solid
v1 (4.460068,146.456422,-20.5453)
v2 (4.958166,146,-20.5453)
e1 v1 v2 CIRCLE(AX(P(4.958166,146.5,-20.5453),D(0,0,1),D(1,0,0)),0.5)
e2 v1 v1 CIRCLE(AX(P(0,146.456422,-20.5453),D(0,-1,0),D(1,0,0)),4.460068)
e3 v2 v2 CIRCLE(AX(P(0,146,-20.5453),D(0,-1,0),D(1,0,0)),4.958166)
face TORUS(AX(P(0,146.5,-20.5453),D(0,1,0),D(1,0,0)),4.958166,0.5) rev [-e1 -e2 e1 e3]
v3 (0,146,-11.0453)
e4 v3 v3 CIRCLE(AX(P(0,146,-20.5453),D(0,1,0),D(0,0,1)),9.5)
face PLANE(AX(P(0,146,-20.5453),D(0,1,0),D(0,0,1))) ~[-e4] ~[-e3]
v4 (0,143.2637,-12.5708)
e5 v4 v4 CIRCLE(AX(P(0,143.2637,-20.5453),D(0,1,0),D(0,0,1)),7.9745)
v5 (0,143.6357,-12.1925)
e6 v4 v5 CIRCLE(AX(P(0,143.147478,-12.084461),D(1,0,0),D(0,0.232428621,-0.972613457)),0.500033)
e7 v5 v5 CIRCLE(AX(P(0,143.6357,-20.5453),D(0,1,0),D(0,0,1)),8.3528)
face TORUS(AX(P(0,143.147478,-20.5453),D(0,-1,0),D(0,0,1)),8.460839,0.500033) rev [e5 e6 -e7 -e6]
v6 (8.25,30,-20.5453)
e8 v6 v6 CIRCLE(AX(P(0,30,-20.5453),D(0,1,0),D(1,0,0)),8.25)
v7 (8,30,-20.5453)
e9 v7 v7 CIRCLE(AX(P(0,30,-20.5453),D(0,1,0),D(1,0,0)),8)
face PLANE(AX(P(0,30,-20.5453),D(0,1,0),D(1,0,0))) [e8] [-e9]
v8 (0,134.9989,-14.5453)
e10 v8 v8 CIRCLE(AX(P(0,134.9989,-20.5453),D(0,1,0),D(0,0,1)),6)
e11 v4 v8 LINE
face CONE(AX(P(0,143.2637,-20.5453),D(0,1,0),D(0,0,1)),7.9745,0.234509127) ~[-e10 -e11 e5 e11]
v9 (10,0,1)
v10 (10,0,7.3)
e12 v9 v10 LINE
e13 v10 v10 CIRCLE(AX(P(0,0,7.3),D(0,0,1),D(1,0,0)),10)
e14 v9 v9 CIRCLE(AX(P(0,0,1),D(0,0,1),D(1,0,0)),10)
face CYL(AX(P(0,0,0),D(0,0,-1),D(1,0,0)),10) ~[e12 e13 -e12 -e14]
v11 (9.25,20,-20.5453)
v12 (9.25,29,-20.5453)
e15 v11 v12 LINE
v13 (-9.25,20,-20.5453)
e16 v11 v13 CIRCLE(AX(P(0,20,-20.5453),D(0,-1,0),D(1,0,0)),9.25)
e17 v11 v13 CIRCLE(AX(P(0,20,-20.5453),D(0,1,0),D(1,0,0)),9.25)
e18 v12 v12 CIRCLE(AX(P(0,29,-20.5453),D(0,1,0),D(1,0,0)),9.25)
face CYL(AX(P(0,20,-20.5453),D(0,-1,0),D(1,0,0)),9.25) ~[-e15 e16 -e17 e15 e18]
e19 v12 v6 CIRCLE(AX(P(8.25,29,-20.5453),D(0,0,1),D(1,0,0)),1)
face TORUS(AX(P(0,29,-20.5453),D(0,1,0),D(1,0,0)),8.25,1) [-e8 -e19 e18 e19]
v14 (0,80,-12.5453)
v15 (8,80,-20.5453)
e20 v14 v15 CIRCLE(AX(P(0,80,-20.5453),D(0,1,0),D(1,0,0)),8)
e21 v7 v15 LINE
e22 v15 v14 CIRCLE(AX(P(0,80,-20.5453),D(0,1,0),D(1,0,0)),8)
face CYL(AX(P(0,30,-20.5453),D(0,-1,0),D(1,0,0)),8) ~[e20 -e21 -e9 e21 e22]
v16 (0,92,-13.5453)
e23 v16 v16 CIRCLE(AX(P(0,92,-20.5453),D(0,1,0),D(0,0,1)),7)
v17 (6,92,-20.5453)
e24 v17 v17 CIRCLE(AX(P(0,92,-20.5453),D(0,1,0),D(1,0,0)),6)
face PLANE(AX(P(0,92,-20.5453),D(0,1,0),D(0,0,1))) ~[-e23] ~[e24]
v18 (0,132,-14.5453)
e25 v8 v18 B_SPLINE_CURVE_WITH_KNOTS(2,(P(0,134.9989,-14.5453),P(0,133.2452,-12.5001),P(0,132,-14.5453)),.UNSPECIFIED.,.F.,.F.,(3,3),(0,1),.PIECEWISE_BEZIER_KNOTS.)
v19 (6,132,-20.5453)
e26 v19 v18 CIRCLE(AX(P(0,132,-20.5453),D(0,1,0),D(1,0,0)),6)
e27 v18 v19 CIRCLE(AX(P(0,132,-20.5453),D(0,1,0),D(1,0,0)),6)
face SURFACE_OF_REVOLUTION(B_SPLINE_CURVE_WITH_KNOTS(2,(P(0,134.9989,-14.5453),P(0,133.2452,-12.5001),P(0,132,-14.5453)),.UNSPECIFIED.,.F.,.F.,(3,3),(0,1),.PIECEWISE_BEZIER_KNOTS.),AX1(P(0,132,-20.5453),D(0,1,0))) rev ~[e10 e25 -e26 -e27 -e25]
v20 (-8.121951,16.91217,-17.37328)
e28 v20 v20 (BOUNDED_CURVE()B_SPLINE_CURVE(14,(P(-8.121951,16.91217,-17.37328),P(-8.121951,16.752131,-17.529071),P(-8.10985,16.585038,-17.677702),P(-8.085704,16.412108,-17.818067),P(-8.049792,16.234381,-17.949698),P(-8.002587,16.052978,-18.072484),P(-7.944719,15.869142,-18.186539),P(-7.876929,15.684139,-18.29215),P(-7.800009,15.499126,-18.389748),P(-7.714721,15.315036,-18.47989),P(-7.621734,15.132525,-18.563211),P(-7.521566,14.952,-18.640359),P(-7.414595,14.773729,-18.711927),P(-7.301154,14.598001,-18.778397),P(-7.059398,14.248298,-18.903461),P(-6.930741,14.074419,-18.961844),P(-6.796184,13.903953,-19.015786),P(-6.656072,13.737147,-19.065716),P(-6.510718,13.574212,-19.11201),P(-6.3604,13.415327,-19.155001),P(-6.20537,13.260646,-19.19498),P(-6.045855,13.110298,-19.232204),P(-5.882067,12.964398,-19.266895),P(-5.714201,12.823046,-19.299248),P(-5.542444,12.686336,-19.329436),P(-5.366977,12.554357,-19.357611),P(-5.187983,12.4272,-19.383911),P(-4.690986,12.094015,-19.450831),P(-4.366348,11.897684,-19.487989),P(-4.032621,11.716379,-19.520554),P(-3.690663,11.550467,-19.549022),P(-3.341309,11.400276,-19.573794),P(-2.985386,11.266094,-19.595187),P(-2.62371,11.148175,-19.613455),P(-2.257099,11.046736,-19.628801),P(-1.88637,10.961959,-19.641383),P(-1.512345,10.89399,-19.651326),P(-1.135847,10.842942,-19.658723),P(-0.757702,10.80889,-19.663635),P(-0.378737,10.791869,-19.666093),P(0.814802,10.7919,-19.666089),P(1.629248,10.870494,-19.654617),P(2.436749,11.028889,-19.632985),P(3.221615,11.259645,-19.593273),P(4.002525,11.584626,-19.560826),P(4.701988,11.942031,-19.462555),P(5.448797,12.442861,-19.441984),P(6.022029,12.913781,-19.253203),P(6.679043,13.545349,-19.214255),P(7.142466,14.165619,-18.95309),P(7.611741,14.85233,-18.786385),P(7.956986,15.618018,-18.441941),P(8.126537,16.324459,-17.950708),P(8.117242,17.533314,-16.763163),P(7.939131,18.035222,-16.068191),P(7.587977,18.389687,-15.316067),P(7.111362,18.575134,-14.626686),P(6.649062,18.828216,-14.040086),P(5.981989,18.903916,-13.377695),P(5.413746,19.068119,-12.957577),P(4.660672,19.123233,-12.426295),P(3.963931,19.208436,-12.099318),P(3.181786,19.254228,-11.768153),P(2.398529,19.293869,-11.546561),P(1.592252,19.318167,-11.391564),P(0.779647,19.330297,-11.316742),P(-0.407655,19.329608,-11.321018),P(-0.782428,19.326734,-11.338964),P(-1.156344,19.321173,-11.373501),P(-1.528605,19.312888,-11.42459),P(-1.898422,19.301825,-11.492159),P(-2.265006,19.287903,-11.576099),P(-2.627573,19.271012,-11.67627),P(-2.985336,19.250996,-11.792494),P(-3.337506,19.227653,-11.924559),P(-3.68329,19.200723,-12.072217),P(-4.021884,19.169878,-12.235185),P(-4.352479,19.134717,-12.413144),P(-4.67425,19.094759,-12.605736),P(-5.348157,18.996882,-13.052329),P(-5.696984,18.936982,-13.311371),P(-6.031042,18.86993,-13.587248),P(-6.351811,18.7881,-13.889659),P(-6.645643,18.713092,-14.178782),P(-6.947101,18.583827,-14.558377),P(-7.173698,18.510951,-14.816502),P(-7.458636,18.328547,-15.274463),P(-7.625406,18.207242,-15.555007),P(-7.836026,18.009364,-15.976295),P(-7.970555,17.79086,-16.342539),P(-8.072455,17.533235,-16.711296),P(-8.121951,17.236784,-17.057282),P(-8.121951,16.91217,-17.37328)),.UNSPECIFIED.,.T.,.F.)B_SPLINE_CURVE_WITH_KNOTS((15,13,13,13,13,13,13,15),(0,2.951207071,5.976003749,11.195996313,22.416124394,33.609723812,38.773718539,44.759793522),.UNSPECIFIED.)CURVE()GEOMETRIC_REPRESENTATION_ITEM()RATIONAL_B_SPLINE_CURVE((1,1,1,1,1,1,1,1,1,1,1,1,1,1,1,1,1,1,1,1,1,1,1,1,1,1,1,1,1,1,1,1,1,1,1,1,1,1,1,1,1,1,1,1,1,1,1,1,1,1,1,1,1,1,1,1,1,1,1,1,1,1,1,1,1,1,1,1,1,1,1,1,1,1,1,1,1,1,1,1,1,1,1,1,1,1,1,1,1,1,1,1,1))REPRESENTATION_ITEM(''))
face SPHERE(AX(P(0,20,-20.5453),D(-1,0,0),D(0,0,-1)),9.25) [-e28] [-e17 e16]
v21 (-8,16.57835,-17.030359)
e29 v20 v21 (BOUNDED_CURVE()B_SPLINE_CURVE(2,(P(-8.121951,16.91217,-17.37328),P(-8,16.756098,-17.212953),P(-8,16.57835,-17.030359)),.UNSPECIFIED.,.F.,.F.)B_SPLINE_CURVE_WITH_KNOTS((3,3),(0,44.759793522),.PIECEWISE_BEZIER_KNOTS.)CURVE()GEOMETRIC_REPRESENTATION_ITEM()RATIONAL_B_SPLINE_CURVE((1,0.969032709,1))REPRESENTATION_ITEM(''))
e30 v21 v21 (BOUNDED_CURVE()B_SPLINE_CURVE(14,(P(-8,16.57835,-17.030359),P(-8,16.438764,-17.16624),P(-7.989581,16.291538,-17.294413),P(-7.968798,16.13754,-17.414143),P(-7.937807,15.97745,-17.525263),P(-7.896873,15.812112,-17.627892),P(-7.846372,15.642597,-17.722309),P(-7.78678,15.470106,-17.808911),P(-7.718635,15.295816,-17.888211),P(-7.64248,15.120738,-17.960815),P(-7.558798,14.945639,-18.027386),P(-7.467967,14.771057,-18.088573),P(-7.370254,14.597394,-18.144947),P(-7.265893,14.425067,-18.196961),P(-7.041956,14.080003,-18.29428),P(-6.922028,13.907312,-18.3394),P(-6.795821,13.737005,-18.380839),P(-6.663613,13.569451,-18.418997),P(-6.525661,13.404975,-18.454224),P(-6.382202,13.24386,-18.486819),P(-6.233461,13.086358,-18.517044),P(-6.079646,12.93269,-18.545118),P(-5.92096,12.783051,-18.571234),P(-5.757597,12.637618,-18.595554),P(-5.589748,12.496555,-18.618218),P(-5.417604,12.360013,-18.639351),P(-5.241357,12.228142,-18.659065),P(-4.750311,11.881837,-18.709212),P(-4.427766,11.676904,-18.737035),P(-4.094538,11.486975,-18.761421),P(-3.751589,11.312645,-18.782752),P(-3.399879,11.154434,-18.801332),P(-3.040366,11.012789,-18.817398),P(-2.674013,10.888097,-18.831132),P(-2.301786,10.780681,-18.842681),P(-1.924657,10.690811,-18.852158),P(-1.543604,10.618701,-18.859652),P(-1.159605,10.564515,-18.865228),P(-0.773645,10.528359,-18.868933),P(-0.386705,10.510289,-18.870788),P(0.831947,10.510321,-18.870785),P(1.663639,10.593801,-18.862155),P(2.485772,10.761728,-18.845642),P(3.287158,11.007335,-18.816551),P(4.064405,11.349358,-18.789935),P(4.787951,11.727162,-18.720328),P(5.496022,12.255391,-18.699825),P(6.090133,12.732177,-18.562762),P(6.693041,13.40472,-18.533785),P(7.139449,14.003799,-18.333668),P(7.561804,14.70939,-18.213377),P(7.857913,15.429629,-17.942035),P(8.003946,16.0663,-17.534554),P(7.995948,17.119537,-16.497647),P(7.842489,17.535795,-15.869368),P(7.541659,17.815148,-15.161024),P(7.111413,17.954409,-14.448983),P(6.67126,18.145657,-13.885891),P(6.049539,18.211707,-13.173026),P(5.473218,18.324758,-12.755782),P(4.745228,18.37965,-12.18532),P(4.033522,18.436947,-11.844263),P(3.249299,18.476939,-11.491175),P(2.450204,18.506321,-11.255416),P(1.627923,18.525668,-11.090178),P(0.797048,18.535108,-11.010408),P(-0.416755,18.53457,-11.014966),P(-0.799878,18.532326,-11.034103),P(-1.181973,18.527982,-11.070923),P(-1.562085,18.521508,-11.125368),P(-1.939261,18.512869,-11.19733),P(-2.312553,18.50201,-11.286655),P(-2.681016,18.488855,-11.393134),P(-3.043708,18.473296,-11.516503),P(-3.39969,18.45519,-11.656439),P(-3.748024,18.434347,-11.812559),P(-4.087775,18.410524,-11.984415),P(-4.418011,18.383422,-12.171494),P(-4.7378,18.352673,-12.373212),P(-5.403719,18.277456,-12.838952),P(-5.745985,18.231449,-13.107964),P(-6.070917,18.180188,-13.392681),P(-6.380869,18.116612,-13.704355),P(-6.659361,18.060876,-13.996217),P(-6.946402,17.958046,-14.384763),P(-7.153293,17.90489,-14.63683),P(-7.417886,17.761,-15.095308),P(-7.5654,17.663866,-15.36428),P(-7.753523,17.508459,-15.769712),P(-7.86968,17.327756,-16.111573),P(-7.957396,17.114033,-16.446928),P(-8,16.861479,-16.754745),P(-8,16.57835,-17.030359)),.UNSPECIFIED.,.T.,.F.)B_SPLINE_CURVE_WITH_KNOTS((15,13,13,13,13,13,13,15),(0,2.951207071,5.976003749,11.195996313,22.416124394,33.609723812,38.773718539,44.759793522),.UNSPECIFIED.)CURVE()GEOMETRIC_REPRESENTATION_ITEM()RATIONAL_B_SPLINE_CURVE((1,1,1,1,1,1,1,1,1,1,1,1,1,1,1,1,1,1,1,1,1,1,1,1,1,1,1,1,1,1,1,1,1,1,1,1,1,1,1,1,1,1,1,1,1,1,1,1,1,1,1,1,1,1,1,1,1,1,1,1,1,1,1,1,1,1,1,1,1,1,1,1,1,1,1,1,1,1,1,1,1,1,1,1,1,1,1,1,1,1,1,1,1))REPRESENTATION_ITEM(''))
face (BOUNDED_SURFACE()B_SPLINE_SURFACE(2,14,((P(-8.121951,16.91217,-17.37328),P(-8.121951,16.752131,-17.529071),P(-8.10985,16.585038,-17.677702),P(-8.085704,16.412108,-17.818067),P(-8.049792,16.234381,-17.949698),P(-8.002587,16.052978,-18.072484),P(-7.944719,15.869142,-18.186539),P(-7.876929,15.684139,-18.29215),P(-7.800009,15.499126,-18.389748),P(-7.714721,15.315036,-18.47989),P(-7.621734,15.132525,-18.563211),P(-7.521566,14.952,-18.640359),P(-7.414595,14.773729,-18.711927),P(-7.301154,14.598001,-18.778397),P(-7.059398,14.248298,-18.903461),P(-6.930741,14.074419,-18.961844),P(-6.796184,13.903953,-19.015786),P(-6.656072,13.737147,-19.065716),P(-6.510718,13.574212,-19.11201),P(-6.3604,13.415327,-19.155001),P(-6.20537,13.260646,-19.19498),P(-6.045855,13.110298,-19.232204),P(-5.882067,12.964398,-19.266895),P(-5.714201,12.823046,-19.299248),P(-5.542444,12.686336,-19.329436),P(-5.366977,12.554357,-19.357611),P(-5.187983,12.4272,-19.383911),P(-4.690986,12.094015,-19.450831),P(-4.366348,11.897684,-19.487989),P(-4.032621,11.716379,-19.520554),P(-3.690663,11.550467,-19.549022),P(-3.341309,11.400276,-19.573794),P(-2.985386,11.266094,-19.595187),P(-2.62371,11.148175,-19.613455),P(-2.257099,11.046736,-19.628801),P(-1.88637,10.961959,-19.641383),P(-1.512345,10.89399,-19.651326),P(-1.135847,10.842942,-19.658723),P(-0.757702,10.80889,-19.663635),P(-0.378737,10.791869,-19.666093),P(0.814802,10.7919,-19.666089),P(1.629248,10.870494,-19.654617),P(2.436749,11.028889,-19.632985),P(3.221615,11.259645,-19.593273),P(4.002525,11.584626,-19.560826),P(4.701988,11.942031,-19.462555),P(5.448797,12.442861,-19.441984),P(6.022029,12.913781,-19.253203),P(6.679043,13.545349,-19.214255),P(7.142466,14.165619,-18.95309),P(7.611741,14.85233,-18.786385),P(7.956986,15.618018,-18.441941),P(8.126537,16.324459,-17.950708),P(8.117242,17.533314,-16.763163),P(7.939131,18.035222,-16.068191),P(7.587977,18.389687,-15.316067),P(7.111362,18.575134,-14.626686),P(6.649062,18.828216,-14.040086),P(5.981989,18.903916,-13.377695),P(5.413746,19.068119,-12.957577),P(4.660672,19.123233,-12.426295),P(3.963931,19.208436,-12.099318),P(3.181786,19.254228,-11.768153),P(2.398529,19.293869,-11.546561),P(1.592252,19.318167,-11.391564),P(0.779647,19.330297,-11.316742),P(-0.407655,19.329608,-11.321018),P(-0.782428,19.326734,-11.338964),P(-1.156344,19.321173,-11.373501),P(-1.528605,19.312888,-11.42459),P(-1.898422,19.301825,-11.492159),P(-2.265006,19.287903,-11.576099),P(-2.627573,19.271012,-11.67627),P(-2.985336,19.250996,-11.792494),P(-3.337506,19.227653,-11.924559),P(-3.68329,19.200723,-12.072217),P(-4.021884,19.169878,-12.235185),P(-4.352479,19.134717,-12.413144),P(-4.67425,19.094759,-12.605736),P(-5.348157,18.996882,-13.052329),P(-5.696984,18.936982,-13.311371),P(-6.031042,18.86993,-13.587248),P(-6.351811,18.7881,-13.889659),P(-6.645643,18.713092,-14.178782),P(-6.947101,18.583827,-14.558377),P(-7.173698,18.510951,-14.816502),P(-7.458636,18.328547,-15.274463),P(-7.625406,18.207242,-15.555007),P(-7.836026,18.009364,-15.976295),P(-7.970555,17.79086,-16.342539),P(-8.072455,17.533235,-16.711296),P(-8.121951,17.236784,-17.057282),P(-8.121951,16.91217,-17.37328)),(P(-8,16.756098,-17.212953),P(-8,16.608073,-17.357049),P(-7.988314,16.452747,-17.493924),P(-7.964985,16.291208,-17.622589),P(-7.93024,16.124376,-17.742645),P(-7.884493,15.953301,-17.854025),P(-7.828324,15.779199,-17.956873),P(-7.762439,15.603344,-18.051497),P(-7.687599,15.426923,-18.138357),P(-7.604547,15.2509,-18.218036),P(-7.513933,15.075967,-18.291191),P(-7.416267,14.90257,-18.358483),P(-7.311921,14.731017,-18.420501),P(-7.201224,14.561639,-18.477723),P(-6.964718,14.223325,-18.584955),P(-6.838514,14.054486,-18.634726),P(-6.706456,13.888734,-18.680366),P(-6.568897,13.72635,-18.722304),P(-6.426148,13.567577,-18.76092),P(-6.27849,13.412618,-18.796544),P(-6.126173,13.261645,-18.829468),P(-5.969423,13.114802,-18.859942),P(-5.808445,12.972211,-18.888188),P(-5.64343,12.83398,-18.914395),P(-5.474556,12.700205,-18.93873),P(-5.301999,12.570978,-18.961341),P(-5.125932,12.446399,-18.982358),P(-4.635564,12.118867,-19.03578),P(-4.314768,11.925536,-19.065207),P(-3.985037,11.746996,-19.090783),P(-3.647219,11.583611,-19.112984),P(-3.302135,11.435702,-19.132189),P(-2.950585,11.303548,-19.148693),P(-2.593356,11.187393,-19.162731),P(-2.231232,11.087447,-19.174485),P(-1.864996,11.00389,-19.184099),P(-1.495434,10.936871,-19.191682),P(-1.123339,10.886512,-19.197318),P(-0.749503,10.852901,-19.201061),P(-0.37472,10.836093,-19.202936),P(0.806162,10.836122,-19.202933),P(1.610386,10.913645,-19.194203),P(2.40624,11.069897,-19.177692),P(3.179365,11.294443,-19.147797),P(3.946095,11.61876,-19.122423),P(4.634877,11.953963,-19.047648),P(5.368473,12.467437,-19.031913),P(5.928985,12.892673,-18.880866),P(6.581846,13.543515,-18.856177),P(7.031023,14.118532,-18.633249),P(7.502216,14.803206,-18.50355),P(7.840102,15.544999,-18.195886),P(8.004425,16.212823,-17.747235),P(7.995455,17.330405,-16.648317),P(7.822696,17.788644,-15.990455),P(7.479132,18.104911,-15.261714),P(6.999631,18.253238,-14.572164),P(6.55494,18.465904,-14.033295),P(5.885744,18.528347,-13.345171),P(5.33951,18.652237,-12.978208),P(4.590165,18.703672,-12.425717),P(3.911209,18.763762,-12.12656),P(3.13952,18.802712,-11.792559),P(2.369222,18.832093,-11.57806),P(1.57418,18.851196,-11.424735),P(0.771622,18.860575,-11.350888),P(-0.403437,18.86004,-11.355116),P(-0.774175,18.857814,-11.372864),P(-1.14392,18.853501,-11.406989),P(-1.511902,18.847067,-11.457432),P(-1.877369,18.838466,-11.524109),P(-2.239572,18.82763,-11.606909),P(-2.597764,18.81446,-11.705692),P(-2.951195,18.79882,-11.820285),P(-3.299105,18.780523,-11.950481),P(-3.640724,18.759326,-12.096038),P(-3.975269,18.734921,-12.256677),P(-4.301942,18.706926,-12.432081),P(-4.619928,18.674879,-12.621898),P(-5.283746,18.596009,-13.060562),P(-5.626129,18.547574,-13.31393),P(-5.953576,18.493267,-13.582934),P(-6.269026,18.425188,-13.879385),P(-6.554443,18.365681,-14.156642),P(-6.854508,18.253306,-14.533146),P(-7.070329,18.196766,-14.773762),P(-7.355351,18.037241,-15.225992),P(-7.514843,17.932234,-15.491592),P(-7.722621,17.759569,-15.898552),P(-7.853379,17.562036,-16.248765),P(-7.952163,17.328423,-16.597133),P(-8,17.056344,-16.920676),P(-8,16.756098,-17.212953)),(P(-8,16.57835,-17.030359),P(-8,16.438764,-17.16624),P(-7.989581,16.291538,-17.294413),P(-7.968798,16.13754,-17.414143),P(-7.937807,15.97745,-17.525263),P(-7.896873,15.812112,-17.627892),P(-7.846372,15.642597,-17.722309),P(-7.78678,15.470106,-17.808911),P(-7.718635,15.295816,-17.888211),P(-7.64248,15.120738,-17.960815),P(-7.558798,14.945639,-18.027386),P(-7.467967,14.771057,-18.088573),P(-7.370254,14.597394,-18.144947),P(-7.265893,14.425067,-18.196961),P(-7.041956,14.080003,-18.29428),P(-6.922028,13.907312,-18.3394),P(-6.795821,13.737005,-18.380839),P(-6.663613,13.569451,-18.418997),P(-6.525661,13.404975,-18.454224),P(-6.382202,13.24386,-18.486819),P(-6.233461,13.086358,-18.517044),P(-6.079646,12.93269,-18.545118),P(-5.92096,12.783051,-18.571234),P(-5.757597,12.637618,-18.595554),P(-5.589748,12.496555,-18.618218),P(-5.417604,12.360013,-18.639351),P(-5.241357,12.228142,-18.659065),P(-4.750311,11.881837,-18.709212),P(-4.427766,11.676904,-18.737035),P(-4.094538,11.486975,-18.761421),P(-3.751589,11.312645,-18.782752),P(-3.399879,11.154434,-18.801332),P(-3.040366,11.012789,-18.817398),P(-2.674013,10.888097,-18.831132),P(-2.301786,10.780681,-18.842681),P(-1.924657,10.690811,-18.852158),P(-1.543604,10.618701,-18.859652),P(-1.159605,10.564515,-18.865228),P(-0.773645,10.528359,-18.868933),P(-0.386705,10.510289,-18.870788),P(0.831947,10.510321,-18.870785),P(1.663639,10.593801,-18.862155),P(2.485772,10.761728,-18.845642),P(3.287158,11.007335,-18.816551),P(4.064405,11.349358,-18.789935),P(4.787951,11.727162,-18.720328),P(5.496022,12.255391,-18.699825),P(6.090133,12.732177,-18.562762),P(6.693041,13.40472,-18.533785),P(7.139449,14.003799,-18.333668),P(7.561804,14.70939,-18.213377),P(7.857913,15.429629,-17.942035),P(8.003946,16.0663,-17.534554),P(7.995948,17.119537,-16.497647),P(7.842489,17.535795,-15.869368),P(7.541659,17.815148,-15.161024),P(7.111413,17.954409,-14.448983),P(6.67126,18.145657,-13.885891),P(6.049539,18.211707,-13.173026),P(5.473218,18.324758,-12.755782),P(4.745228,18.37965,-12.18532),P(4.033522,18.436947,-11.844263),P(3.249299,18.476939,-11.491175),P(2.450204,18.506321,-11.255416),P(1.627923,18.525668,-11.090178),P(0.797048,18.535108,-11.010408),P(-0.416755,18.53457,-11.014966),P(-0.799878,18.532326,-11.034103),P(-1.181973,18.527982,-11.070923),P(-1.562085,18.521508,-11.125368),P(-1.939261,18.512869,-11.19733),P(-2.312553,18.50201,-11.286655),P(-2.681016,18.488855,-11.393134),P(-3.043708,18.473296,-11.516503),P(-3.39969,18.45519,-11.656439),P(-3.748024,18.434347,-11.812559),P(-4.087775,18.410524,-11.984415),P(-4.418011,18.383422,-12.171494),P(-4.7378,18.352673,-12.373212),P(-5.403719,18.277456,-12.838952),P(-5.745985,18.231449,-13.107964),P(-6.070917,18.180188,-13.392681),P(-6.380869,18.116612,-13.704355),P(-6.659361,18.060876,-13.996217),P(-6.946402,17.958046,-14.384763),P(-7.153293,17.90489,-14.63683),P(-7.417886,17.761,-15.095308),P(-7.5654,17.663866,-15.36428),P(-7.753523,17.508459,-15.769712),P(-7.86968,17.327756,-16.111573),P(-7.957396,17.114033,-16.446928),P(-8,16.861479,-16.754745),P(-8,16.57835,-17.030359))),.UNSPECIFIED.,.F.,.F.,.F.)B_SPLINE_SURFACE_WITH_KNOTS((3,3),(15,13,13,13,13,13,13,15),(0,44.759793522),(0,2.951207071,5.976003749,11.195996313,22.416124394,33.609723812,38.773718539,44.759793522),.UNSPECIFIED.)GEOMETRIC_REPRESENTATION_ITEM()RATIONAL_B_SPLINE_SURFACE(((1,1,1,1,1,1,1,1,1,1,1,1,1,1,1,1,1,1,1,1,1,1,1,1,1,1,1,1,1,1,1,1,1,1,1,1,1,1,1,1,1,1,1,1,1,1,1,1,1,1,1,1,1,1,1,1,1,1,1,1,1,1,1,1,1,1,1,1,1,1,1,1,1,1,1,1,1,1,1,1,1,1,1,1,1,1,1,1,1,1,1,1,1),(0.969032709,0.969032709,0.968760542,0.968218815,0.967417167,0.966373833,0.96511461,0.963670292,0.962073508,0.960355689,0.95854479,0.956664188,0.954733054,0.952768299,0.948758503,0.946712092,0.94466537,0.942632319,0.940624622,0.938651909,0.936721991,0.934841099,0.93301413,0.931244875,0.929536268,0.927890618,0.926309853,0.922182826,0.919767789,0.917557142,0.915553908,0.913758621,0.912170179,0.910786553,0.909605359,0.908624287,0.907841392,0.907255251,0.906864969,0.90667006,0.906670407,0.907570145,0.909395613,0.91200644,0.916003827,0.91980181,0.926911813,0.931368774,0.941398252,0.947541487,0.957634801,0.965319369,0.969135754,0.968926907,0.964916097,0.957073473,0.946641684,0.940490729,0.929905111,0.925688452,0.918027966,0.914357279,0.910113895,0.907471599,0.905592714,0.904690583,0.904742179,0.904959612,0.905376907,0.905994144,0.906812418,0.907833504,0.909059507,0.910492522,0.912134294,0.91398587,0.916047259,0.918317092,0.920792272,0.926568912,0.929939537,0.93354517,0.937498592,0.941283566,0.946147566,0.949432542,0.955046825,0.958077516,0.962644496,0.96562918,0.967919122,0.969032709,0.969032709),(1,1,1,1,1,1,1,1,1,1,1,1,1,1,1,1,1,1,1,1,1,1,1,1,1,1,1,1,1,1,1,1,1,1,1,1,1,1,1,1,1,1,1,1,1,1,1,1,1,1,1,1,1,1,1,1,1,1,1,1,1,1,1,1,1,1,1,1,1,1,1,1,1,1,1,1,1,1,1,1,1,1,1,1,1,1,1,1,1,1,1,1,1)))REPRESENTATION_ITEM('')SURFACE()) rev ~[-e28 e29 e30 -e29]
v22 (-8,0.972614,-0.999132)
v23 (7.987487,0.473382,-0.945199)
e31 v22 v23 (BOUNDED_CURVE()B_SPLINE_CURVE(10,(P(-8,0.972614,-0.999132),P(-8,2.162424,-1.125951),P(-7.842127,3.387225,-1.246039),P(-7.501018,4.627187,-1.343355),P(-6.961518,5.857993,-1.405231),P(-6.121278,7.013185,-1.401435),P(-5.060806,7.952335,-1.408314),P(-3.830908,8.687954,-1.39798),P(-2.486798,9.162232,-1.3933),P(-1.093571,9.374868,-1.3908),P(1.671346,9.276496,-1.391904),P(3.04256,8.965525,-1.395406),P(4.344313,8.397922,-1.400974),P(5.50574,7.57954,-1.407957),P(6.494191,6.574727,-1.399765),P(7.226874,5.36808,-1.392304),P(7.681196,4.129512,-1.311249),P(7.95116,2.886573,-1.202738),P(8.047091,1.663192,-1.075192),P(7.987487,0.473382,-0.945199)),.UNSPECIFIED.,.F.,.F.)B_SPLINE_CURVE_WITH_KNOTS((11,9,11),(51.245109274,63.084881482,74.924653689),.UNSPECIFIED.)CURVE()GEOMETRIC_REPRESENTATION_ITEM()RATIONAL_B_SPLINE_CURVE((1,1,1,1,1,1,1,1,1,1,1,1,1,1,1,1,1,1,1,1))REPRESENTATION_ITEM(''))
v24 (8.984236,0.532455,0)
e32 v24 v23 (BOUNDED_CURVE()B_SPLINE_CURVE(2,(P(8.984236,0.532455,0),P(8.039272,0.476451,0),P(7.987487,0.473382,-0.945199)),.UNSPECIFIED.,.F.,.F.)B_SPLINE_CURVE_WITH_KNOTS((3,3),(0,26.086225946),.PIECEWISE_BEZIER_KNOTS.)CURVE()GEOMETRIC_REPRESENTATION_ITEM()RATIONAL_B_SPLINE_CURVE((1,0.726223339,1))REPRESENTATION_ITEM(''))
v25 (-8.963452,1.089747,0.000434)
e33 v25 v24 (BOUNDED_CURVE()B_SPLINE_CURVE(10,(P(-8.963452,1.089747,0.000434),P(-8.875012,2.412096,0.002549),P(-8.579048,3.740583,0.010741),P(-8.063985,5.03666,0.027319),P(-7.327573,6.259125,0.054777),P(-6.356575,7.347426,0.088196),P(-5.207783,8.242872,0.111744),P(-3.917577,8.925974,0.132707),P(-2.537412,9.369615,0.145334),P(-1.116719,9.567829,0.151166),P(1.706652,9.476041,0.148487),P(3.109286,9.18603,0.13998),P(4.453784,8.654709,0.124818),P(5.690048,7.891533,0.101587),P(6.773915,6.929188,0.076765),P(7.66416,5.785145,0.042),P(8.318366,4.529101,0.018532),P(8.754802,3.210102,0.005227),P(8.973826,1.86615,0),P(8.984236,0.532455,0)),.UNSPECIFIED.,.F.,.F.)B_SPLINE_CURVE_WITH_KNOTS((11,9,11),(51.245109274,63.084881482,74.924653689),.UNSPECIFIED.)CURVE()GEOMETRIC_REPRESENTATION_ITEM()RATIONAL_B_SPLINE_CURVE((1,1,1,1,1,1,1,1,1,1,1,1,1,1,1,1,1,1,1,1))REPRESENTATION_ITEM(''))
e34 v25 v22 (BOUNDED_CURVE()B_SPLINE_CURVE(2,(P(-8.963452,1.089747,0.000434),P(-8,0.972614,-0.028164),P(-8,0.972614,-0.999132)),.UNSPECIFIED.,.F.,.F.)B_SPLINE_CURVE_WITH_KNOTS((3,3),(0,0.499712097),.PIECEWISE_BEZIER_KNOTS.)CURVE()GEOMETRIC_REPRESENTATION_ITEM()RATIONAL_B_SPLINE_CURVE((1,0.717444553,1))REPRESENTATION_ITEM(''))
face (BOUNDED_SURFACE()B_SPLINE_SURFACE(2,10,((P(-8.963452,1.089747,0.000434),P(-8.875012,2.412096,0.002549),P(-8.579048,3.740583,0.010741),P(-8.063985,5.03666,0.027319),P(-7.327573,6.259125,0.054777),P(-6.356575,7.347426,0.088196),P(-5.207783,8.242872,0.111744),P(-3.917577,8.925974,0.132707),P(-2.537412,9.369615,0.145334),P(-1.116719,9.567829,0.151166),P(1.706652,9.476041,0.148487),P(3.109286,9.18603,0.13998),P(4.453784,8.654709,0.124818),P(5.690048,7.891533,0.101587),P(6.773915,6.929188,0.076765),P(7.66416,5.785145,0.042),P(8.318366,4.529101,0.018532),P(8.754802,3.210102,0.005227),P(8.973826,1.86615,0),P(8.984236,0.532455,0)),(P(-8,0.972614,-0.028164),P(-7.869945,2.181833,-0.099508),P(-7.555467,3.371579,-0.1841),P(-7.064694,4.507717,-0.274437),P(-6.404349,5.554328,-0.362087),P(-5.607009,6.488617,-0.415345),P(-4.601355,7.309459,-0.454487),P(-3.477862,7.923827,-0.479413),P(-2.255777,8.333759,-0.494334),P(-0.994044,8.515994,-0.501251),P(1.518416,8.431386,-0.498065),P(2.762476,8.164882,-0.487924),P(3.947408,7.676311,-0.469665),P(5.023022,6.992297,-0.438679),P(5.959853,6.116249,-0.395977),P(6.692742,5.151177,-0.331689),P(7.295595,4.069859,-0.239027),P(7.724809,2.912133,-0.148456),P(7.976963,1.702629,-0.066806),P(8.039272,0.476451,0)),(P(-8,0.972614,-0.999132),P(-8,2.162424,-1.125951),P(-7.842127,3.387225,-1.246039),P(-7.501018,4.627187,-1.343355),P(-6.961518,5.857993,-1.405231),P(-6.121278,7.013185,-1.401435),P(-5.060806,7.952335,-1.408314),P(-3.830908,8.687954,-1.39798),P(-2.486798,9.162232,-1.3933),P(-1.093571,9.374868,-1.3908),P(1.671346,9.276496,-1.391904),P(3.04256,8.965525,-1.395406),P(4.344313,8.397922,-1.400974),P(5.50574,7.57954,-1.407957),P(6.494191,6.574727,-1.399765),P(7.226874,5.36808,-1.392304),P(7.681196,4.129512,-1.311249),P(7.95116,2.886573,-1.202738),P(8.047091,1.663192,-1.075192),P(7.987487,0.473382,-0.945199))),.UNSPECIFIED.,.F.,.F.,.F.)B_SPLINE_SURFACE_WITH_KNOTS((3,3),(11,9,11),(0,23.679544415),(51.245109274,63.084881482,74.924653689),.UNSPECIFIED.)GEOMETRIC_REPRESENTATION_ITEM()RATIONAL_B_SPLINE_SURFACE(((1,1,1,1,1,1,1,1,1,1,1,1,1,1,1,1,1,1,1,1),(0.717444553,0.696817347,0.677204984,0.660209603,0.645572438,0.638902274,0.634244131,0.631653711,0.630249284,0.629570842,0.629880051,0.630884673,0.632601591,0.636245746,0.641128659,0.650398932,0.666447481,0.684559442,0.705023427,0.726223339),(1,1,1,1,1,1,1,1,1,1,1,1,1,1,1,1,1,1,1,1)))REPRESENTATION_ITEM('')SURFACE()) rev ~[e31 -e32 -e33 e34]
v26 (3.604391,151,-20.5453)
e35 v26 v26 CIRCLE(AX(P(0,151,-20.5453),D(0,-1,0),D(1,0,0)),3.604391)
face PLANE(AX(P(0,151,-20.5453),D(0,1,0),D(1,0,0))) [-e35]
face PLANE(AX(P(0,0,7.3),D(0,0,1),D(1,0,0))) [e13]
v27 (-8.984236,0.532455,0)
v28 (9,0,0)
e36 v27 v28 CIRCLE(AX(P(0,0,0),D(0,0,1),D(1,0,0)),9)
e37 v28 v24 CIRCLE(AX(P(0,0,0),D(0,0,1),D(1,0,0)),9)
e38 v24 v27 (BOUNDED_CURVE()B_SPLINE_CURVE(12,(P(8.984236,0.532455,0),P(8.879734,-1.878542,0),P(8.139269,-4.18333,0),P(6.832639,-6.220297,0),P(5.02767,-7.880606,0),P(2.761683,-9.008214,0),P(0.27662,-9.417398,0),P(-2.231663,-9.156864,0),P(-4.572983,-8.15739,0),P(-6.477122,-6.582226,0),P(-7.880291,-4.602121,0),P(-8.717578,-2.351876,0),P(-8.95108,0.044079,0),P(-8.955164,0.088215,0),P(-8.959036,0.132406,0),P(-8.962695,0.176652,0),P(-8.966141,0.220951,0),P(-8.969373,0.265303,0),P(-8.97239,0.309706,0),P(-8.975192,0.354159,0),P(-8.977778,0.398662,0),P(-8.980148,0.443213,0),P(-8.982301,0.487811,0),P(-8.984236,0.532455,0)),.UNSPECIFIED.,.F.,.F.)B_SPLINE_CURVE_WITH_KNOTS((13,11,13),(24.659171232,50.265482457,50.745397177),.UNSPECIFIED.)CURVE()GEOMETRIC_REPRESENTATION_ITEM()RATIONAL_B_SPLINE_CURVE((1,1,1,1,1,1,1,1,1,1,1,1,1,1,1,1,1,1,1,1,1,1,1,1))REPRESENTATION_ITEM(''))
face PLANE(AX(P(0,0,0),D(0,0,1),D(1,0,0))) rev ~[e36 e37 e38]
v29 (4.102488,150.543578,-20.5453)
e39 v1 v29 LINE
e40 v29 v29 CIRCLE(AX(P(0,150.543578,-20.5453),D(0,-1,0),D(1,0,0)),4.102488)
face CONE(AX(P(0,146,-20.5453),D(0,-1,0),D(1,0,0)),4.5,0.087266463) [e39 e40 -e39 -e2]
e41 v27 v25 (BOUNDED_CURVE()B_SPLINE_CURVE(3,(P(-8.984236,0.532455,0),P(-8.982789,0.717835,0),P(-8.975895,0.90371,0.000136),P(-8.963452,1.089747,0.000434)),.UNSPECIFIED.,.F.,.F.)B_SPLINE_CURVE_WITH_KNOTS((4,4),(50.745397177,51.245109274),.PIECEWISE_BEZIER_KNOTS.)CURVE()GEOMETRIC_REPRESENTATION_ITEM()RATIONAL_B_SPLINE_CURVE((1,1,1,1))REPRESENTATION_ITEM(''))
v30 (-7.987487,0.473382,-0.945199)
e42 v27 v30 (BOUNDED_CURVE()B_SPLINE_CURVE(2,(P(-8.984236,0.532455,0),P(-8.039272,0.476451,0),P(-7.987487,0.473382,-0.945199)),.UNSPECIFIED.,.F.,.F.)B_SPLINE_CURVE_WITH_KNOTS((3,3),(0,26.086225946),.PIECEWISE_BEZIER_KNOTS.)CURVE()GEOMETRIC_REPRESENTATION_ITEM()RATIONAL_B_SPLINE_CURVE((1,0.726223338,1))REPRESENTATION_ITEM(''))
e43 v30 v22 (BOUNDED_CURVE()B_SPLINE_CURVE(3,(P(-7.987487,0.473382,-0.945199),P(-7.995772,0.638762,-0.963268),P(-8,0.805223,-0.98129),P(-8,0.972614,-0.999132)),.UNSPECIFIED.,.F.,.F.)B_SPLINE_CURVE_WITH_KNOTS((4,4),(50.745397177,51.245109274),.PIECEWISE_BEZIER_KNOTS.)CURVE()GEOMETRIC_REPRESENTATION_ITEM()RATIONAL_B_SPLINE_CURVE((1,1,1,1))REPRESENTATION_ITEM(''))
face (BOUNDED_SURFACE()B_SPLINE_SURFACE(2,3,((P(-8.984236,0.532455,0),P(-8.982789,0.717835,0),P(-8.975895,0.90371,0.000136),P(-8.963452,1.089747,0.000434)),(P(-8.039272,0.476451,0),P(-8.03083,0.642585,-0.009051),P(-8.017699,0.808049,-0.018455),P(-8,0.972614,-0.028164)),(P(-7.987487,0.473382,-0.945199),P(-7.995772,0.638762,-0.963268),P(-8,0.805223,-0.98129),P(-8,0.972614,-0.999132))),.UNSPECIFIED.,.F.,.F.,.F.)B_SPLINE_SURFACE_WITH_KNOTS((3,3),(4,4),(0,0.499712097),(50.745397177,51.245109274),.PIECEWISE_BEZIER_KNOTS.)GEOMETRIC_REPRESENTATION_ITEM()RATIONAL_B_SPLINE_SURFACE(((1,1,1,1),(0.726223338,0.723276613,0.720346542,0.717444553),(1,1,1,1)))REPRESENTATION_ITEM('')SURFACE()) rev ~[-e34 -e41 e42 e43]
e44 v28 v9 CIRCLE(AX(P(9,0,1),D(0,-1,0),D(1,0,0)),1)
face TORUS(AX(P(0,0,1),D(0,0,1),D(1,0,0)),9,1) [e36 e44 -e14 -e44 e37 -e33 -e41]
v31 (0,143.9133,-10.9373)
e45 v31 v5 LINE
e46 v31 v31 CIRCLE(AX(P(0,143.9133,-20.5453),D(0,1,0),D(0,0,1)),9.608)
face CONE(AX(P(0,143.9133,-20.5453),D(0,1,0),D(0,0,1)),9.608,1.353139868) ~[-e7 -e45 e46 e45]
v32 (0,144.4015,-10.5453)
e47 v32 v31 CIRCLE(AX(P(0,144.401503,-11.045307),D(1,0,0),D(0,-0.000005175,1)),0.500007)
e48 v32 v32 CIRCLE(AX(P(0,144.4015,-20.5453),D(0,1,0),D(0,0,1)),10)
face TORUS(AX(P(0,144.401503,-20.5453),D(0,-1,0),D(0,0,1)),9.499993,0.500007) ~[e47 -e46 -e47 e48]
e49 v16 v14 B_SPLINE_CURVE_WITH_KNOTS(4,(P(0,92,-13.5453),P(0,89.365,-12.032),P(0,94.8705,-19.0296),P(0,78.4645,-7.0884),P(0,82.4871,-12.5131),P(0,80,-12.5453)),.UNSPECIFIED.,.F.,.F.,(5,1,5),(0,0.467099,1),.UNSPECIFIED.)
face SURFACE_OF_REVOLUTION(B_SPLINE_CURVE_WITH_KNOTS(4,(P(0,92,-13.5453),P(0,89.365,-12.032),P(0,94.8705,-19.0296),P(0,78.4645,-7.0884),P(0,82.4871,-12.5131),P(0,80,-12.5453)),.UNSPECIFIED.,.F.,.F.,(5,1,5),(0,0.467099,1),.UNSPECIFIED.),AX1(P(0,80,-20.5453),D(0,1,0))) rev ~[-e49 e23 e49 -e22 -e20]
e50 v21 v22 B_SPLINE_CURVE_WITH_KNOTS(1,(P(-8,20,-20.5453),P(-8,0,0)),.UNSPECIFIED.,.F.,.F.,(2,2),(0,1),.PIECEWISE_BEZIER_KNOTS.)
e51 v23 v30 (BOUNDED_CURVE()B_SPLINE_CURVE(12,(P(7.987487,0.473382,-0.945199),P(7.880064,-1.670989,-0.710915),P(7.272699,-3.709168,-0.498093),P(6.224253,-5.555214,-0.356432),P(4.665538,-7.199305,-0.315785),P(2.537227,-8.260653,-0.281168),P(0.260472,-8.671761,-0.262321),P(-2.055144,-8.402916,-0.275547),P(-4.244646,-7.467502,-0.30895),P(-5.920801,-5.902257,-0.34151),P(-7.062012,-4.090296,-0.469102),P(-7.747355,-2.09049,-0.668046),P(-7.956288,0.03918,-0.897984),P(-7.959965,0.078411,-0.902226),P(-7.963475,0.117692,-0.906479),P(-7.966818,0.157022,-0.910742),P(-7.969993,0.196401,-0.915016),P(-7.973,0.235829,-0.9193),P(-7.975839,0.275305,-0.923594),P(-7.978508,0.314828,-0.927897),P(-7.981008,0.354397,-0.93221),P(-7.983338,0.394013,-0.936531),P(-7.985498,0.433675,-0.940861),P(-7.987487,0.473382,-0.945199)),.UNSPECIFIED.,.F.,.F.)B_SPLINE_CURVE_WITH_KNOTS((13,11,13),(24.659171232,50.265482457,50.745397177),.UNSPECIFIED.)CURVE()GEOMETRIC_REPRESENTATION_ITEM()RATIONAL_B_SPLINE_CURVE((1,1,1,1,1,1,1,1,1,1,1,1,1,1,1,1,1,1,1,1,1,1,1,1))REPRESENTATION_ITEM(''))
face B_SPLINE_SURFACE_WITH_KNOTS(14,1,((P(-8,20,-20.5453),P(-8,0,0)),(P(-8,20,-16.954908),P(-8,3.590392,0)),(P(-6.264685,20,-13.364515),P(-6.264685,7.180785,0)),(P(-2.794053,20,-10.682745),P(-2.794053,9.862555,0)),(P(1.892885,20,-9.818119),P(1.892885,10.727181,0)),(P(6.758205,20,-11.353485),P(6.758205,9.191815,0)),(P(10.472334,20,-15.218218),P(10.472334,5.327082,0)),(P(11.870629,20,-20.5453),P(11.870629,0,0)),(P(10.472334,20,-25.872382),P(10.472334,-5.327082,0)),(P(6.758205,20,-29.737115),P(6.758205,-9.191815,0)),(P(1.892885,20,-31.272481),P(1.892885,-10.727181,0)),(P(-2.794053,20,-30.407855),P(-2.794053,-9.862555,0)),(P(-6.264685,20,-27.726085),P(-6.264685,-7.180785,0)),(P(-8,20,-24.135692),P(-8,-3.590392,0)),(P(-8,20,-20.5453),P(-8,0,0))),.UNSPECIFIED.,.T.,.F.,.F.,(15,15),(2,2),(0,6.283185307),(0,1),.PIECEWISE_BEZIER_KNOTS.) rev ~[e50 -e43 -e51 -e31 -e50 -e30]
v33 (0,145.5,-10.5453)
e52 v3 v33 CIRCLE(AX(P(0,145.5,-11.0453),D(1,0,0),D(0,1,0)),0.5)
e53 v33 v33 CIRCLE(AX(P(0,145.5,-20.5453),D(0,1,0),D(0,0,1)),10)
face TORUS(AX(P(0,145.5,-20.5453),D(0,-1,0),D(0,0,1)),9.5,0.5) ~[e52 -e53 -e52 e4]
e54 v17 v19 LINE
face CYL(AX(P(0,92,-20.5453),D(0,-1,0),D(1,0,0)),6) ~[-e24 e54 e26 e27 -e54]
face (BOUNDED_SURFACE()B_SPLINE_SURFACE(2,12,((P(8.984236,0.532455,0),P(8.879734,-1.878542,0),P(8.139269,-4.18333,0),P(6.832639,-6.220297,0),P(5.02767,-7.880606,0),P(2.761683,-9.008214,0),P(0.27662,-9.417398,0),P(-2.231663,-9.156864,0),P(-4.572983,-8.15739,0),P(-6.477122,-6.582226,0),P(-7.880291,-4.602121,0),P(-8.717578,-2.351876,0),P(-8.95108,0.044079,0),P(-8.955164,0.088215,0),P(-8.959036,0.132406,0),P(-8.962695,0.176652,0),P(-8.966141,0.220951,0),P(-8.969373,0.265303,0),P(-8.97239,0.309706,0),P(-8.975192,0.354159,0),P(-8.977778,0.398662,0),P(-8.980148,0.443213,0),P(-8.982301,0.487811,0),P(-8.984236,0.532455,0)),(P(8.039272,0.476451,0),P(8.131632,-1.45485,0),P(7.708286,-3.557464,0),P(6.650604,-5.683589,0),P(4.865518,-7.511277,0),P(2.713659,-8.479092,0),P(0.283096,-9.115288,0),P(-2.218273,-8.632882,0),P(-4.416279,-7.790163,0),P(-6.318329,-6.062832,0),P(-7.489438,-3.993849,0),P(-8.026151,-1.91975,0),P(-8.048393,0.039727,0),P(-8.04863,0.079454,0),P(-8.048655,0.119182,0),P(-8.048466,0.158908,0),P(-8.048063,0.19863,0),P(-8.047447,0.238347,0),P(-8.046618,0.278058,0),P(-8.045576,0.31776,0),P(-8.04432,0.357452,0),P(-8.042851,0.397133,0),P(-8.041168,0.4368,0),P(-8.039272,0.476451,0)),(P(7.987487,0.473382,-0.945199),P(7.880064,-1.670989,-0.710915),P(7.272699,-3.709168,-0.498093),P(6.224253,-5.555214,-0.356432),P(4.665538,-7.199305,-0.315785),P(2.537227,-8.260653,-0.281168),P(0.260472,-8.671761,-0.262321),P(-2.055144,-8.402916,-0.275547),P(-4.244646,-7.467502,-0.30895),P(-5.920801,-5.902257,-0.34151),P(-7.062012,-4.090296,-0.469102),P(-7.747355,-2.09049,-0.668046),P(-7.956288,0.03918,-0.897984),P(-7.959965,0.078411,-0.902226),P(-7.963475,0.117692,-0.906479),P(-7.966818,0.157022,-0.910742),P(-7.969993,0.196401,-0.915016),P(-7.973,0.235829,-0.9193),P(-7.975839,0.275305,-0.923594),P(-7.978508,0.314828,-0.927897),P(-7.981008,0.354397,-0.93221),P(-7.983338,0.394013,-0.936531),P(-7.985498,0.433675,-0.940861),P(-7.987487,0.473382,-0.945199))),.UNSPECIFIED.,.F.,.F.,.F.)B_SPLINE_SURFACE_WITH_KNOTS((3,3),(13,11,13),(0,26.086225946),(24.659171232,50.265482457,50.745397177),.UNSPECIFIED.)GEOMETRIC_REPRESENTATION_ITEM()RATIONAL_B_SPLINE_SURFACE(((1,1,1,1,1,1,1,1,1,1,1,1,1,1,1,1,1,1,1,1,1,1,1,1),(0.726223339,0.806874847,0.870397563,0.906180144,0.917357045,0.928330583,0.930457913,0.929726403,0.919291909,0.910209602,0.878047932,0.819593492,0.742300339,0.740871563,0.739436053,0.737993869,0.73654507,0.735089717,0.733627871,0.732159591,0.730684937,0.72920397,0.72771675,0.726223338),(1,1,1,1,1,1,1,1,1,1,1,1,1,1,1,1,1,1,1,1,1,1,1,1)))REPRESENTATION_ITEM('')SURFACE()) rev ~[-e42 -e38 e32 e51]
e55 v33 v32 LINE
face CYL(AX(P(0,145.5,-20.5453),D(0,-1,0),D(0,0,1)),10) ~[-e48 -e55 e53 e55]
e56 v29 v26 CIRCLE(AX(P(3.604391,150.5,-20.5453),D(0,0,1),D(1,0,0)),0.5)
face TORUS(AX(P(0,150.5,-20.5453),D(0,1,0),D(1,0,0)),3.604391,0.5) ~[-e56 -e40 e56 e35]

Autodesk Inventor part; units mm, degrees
ref_plane "YZ Plane" through (0, 0, 0) normal (1, 0, 0) x (0, 1, 0)
ref_plane "XY Plane" through (0, 0, 0) normal (0, 0, 1) x (1, 0, 0)
sketch "草圖1" plane through (0, 0, 0) normal (0, 0, 1) x (1, 0, 0)
  circle A0 centre (0, 0) radius 10
  circle A1 centre (0, 0) radius 8
  dimension "d0" = 20
  dimension "d1" = 16
extrude "擠出1" add sketch "草圖1" along normal blind 7.3
extrude "擠出2" add sketch "草圖1" along normal blind 7.3 contours A1
sketch "草圖2" plane through (0, 0, 0) normal (0, 0, -1) x (-1, 0, 0)
  circle A0 centre (0, 0) radius 8
  dimension "d6" = 16
ref_plane "工作平面1" through (0, 20, 0) normal (0, 1, 0) x (-1, 0, 0)
sketch "草圖3" plane through (0, 20, 0) normal (0, 1, 0) x (-1, 0, 0)
  circle A0 centre (0, -20.5453) radius 8
  point P0 (0, 0)
  dimension "d8" = 16
loft "斷面混成1" add profiles "草圖3", "草圖2"
sketch "草圖4" plane through (0, 20, -20.5453) normal (0, 1, 0) x (1, 0, 0)
  circle A0 centre (0, 0) radius 9.25
  line L0 (9.25, 0) -> (-9.4837, 0)
  line L1 (-8, 0) -> (-8, -20.5453) projected
  point P0 (0, -20.5453)
  point P1 (-9.25, 0)
  dimension "d13" = 18.5
revolve "迴轉1" add sketch "草圖4" angle 180 about axis through (9.25, 20, -20.5453) along (-1, 0, 0) contours L0 A0
sketch "草圖5" plane through (0, 20, -20.5453) normal (0, 1, 0) x (1, 0, 0)
  circle A0 centre (0, 0) radius 9.25
  circle A1 centre (0, 0) radius 9.25 projected
  point P0 (0, -20.5453)
extrude "擠出3" add sketch "草圖5" along normal blind 10
sketch "草圖6" plane through (0, 30, -20.5453) normal (0, 1, 0) x (1, 0, 0)
  circle A0 centre (0, 0) radius 8
  point P0 (0, -20.5453)
  dimension "d17" = 16
extrude "擠出4" add sketch "草圖6" along normal blind 50
fillet "圓角1" radius 1 4 edges at (-9.25, 30, -20.5453) (8, 16.7517, -17.227) (-10, 0, 0) (8, 0, 0)
sketch "草圖7" plane through (0, 0, 0) normal (1, 0, 0) x (0, 1, 0)
  line L0 (80, -28.5453) -> (80, -12.5453) projected
  line L1 (80, -20.5453) -> (92, -20.5453)
  line L2 (92, -20.5453) -> (92, -13.5453)
  spline S0 degree 4 poles (92, -13.5453) (89.365, -12.032) (94.8705, -19.0296) (78.4645, -7.0884) (82.4871, -12.5131) (80, -12.5453) knots 0 0 0 0 0 0.467099 1 1 1 1 1
  line L3 (80, -20.5453) -> (80, -12.5453)
  point P0 (0, 0)
  point P1 (90.6563, -13.5453)
  point P2 (90.2228, -14.1558)
  point P3 (83.6337, -11.5548)
  point P4 (81.5962, -11.5548)
  dimension "d21" = 12
  dimension "d22" = 7
revolve "迴轉2" add sketch "草圖7" angle 360 about axis through (0, 80, -20.5453) along (0, 1, 0)
sketch "草圖8" plane through (0, 92, -20.5453) normal (0, 1, 0) x (1, 0, 0)
  circle A0 centre (0, 0) radius 8 projected
  circle A1 centre (0, 0) radius 6
  point P0 (0, -20.5453)
  dimension "d24" = 12
extrude "擠出5" add sketch "草圖8" along normal blind 40 contours A1
sketch "草圖9" plane through (0, 0, 0) normal (1, 0, 0) x (0, 1, 0)
  line L0 (132, -26.5453) -> (132, -14.5453) projected
  line L1 (132, -20.5453) -> (146, -20.5453)
  line L2 (146, -20.5453) -> (146, -11.0453)
  line L3 (145.5, -10.5453) -> (144.4015, -10.5453)
  line L4 (143.9133, -10.9373) -> (143.6357, -12.1925)
  line L5 (143.2637, -12.5708) -> (134.9989, -14.5453)
  spline S0 degree 2 poles (134.9989, -14.5453) (133.2452, -12.5001) (132, -14.5453) knots 0 0 0 1 1 1
  arc A0 (146, -11.0453) -> (145.5, -10.5453) centre (145.5, -11.0453) ccw
  arc A1 (144.4015, -10.5453) -> (143.9133, -10.9373) centre (144.4015, -11.0453) ccw
  arc A2 (143.2637, -12.5708) -> (143.6357, -12.1925) centre (143.1475, -12.0845) ccw
  point P0 (0, 0)
  point P1 (146, -10.5453)
  point P2 (144, -10.5453)
  point P3 (143.5681, -12.4981)
  point P4 (133.3069, -13.5247)
  dimension "d27" = 14
  dimension "d28" = 10
  dimension "d29" = 2
  dimension "d30" = 2
  dimension "d31" = 0.5
revolve "迴轉3" add sketch "草圖9" angle 360 about axis through (0, 132, -20.5453) along (0, 1, 0)
sketch "草圖10" plane through (0, 146, -20.5453) normal (0, 1, 0) x (1, 0, 0)
  circle A0 centre (0, 0) radius 6 projected
  circle A1 centre (0, 0) radius 4.5
  point P0 (0, -20.5453)
  dimension "d33" = 9
extrude "擠出6" add sketch "草圖10" along normal blind 5 draft -5 contours A1
fillet "圓角2" radius 0.5 1 edges at (-4.0626, 151, -20.5453)
fillet "圓角3" radius 0.5 1 edges at (-4.5, 146, -20.5453)
properties part number "塔2"
